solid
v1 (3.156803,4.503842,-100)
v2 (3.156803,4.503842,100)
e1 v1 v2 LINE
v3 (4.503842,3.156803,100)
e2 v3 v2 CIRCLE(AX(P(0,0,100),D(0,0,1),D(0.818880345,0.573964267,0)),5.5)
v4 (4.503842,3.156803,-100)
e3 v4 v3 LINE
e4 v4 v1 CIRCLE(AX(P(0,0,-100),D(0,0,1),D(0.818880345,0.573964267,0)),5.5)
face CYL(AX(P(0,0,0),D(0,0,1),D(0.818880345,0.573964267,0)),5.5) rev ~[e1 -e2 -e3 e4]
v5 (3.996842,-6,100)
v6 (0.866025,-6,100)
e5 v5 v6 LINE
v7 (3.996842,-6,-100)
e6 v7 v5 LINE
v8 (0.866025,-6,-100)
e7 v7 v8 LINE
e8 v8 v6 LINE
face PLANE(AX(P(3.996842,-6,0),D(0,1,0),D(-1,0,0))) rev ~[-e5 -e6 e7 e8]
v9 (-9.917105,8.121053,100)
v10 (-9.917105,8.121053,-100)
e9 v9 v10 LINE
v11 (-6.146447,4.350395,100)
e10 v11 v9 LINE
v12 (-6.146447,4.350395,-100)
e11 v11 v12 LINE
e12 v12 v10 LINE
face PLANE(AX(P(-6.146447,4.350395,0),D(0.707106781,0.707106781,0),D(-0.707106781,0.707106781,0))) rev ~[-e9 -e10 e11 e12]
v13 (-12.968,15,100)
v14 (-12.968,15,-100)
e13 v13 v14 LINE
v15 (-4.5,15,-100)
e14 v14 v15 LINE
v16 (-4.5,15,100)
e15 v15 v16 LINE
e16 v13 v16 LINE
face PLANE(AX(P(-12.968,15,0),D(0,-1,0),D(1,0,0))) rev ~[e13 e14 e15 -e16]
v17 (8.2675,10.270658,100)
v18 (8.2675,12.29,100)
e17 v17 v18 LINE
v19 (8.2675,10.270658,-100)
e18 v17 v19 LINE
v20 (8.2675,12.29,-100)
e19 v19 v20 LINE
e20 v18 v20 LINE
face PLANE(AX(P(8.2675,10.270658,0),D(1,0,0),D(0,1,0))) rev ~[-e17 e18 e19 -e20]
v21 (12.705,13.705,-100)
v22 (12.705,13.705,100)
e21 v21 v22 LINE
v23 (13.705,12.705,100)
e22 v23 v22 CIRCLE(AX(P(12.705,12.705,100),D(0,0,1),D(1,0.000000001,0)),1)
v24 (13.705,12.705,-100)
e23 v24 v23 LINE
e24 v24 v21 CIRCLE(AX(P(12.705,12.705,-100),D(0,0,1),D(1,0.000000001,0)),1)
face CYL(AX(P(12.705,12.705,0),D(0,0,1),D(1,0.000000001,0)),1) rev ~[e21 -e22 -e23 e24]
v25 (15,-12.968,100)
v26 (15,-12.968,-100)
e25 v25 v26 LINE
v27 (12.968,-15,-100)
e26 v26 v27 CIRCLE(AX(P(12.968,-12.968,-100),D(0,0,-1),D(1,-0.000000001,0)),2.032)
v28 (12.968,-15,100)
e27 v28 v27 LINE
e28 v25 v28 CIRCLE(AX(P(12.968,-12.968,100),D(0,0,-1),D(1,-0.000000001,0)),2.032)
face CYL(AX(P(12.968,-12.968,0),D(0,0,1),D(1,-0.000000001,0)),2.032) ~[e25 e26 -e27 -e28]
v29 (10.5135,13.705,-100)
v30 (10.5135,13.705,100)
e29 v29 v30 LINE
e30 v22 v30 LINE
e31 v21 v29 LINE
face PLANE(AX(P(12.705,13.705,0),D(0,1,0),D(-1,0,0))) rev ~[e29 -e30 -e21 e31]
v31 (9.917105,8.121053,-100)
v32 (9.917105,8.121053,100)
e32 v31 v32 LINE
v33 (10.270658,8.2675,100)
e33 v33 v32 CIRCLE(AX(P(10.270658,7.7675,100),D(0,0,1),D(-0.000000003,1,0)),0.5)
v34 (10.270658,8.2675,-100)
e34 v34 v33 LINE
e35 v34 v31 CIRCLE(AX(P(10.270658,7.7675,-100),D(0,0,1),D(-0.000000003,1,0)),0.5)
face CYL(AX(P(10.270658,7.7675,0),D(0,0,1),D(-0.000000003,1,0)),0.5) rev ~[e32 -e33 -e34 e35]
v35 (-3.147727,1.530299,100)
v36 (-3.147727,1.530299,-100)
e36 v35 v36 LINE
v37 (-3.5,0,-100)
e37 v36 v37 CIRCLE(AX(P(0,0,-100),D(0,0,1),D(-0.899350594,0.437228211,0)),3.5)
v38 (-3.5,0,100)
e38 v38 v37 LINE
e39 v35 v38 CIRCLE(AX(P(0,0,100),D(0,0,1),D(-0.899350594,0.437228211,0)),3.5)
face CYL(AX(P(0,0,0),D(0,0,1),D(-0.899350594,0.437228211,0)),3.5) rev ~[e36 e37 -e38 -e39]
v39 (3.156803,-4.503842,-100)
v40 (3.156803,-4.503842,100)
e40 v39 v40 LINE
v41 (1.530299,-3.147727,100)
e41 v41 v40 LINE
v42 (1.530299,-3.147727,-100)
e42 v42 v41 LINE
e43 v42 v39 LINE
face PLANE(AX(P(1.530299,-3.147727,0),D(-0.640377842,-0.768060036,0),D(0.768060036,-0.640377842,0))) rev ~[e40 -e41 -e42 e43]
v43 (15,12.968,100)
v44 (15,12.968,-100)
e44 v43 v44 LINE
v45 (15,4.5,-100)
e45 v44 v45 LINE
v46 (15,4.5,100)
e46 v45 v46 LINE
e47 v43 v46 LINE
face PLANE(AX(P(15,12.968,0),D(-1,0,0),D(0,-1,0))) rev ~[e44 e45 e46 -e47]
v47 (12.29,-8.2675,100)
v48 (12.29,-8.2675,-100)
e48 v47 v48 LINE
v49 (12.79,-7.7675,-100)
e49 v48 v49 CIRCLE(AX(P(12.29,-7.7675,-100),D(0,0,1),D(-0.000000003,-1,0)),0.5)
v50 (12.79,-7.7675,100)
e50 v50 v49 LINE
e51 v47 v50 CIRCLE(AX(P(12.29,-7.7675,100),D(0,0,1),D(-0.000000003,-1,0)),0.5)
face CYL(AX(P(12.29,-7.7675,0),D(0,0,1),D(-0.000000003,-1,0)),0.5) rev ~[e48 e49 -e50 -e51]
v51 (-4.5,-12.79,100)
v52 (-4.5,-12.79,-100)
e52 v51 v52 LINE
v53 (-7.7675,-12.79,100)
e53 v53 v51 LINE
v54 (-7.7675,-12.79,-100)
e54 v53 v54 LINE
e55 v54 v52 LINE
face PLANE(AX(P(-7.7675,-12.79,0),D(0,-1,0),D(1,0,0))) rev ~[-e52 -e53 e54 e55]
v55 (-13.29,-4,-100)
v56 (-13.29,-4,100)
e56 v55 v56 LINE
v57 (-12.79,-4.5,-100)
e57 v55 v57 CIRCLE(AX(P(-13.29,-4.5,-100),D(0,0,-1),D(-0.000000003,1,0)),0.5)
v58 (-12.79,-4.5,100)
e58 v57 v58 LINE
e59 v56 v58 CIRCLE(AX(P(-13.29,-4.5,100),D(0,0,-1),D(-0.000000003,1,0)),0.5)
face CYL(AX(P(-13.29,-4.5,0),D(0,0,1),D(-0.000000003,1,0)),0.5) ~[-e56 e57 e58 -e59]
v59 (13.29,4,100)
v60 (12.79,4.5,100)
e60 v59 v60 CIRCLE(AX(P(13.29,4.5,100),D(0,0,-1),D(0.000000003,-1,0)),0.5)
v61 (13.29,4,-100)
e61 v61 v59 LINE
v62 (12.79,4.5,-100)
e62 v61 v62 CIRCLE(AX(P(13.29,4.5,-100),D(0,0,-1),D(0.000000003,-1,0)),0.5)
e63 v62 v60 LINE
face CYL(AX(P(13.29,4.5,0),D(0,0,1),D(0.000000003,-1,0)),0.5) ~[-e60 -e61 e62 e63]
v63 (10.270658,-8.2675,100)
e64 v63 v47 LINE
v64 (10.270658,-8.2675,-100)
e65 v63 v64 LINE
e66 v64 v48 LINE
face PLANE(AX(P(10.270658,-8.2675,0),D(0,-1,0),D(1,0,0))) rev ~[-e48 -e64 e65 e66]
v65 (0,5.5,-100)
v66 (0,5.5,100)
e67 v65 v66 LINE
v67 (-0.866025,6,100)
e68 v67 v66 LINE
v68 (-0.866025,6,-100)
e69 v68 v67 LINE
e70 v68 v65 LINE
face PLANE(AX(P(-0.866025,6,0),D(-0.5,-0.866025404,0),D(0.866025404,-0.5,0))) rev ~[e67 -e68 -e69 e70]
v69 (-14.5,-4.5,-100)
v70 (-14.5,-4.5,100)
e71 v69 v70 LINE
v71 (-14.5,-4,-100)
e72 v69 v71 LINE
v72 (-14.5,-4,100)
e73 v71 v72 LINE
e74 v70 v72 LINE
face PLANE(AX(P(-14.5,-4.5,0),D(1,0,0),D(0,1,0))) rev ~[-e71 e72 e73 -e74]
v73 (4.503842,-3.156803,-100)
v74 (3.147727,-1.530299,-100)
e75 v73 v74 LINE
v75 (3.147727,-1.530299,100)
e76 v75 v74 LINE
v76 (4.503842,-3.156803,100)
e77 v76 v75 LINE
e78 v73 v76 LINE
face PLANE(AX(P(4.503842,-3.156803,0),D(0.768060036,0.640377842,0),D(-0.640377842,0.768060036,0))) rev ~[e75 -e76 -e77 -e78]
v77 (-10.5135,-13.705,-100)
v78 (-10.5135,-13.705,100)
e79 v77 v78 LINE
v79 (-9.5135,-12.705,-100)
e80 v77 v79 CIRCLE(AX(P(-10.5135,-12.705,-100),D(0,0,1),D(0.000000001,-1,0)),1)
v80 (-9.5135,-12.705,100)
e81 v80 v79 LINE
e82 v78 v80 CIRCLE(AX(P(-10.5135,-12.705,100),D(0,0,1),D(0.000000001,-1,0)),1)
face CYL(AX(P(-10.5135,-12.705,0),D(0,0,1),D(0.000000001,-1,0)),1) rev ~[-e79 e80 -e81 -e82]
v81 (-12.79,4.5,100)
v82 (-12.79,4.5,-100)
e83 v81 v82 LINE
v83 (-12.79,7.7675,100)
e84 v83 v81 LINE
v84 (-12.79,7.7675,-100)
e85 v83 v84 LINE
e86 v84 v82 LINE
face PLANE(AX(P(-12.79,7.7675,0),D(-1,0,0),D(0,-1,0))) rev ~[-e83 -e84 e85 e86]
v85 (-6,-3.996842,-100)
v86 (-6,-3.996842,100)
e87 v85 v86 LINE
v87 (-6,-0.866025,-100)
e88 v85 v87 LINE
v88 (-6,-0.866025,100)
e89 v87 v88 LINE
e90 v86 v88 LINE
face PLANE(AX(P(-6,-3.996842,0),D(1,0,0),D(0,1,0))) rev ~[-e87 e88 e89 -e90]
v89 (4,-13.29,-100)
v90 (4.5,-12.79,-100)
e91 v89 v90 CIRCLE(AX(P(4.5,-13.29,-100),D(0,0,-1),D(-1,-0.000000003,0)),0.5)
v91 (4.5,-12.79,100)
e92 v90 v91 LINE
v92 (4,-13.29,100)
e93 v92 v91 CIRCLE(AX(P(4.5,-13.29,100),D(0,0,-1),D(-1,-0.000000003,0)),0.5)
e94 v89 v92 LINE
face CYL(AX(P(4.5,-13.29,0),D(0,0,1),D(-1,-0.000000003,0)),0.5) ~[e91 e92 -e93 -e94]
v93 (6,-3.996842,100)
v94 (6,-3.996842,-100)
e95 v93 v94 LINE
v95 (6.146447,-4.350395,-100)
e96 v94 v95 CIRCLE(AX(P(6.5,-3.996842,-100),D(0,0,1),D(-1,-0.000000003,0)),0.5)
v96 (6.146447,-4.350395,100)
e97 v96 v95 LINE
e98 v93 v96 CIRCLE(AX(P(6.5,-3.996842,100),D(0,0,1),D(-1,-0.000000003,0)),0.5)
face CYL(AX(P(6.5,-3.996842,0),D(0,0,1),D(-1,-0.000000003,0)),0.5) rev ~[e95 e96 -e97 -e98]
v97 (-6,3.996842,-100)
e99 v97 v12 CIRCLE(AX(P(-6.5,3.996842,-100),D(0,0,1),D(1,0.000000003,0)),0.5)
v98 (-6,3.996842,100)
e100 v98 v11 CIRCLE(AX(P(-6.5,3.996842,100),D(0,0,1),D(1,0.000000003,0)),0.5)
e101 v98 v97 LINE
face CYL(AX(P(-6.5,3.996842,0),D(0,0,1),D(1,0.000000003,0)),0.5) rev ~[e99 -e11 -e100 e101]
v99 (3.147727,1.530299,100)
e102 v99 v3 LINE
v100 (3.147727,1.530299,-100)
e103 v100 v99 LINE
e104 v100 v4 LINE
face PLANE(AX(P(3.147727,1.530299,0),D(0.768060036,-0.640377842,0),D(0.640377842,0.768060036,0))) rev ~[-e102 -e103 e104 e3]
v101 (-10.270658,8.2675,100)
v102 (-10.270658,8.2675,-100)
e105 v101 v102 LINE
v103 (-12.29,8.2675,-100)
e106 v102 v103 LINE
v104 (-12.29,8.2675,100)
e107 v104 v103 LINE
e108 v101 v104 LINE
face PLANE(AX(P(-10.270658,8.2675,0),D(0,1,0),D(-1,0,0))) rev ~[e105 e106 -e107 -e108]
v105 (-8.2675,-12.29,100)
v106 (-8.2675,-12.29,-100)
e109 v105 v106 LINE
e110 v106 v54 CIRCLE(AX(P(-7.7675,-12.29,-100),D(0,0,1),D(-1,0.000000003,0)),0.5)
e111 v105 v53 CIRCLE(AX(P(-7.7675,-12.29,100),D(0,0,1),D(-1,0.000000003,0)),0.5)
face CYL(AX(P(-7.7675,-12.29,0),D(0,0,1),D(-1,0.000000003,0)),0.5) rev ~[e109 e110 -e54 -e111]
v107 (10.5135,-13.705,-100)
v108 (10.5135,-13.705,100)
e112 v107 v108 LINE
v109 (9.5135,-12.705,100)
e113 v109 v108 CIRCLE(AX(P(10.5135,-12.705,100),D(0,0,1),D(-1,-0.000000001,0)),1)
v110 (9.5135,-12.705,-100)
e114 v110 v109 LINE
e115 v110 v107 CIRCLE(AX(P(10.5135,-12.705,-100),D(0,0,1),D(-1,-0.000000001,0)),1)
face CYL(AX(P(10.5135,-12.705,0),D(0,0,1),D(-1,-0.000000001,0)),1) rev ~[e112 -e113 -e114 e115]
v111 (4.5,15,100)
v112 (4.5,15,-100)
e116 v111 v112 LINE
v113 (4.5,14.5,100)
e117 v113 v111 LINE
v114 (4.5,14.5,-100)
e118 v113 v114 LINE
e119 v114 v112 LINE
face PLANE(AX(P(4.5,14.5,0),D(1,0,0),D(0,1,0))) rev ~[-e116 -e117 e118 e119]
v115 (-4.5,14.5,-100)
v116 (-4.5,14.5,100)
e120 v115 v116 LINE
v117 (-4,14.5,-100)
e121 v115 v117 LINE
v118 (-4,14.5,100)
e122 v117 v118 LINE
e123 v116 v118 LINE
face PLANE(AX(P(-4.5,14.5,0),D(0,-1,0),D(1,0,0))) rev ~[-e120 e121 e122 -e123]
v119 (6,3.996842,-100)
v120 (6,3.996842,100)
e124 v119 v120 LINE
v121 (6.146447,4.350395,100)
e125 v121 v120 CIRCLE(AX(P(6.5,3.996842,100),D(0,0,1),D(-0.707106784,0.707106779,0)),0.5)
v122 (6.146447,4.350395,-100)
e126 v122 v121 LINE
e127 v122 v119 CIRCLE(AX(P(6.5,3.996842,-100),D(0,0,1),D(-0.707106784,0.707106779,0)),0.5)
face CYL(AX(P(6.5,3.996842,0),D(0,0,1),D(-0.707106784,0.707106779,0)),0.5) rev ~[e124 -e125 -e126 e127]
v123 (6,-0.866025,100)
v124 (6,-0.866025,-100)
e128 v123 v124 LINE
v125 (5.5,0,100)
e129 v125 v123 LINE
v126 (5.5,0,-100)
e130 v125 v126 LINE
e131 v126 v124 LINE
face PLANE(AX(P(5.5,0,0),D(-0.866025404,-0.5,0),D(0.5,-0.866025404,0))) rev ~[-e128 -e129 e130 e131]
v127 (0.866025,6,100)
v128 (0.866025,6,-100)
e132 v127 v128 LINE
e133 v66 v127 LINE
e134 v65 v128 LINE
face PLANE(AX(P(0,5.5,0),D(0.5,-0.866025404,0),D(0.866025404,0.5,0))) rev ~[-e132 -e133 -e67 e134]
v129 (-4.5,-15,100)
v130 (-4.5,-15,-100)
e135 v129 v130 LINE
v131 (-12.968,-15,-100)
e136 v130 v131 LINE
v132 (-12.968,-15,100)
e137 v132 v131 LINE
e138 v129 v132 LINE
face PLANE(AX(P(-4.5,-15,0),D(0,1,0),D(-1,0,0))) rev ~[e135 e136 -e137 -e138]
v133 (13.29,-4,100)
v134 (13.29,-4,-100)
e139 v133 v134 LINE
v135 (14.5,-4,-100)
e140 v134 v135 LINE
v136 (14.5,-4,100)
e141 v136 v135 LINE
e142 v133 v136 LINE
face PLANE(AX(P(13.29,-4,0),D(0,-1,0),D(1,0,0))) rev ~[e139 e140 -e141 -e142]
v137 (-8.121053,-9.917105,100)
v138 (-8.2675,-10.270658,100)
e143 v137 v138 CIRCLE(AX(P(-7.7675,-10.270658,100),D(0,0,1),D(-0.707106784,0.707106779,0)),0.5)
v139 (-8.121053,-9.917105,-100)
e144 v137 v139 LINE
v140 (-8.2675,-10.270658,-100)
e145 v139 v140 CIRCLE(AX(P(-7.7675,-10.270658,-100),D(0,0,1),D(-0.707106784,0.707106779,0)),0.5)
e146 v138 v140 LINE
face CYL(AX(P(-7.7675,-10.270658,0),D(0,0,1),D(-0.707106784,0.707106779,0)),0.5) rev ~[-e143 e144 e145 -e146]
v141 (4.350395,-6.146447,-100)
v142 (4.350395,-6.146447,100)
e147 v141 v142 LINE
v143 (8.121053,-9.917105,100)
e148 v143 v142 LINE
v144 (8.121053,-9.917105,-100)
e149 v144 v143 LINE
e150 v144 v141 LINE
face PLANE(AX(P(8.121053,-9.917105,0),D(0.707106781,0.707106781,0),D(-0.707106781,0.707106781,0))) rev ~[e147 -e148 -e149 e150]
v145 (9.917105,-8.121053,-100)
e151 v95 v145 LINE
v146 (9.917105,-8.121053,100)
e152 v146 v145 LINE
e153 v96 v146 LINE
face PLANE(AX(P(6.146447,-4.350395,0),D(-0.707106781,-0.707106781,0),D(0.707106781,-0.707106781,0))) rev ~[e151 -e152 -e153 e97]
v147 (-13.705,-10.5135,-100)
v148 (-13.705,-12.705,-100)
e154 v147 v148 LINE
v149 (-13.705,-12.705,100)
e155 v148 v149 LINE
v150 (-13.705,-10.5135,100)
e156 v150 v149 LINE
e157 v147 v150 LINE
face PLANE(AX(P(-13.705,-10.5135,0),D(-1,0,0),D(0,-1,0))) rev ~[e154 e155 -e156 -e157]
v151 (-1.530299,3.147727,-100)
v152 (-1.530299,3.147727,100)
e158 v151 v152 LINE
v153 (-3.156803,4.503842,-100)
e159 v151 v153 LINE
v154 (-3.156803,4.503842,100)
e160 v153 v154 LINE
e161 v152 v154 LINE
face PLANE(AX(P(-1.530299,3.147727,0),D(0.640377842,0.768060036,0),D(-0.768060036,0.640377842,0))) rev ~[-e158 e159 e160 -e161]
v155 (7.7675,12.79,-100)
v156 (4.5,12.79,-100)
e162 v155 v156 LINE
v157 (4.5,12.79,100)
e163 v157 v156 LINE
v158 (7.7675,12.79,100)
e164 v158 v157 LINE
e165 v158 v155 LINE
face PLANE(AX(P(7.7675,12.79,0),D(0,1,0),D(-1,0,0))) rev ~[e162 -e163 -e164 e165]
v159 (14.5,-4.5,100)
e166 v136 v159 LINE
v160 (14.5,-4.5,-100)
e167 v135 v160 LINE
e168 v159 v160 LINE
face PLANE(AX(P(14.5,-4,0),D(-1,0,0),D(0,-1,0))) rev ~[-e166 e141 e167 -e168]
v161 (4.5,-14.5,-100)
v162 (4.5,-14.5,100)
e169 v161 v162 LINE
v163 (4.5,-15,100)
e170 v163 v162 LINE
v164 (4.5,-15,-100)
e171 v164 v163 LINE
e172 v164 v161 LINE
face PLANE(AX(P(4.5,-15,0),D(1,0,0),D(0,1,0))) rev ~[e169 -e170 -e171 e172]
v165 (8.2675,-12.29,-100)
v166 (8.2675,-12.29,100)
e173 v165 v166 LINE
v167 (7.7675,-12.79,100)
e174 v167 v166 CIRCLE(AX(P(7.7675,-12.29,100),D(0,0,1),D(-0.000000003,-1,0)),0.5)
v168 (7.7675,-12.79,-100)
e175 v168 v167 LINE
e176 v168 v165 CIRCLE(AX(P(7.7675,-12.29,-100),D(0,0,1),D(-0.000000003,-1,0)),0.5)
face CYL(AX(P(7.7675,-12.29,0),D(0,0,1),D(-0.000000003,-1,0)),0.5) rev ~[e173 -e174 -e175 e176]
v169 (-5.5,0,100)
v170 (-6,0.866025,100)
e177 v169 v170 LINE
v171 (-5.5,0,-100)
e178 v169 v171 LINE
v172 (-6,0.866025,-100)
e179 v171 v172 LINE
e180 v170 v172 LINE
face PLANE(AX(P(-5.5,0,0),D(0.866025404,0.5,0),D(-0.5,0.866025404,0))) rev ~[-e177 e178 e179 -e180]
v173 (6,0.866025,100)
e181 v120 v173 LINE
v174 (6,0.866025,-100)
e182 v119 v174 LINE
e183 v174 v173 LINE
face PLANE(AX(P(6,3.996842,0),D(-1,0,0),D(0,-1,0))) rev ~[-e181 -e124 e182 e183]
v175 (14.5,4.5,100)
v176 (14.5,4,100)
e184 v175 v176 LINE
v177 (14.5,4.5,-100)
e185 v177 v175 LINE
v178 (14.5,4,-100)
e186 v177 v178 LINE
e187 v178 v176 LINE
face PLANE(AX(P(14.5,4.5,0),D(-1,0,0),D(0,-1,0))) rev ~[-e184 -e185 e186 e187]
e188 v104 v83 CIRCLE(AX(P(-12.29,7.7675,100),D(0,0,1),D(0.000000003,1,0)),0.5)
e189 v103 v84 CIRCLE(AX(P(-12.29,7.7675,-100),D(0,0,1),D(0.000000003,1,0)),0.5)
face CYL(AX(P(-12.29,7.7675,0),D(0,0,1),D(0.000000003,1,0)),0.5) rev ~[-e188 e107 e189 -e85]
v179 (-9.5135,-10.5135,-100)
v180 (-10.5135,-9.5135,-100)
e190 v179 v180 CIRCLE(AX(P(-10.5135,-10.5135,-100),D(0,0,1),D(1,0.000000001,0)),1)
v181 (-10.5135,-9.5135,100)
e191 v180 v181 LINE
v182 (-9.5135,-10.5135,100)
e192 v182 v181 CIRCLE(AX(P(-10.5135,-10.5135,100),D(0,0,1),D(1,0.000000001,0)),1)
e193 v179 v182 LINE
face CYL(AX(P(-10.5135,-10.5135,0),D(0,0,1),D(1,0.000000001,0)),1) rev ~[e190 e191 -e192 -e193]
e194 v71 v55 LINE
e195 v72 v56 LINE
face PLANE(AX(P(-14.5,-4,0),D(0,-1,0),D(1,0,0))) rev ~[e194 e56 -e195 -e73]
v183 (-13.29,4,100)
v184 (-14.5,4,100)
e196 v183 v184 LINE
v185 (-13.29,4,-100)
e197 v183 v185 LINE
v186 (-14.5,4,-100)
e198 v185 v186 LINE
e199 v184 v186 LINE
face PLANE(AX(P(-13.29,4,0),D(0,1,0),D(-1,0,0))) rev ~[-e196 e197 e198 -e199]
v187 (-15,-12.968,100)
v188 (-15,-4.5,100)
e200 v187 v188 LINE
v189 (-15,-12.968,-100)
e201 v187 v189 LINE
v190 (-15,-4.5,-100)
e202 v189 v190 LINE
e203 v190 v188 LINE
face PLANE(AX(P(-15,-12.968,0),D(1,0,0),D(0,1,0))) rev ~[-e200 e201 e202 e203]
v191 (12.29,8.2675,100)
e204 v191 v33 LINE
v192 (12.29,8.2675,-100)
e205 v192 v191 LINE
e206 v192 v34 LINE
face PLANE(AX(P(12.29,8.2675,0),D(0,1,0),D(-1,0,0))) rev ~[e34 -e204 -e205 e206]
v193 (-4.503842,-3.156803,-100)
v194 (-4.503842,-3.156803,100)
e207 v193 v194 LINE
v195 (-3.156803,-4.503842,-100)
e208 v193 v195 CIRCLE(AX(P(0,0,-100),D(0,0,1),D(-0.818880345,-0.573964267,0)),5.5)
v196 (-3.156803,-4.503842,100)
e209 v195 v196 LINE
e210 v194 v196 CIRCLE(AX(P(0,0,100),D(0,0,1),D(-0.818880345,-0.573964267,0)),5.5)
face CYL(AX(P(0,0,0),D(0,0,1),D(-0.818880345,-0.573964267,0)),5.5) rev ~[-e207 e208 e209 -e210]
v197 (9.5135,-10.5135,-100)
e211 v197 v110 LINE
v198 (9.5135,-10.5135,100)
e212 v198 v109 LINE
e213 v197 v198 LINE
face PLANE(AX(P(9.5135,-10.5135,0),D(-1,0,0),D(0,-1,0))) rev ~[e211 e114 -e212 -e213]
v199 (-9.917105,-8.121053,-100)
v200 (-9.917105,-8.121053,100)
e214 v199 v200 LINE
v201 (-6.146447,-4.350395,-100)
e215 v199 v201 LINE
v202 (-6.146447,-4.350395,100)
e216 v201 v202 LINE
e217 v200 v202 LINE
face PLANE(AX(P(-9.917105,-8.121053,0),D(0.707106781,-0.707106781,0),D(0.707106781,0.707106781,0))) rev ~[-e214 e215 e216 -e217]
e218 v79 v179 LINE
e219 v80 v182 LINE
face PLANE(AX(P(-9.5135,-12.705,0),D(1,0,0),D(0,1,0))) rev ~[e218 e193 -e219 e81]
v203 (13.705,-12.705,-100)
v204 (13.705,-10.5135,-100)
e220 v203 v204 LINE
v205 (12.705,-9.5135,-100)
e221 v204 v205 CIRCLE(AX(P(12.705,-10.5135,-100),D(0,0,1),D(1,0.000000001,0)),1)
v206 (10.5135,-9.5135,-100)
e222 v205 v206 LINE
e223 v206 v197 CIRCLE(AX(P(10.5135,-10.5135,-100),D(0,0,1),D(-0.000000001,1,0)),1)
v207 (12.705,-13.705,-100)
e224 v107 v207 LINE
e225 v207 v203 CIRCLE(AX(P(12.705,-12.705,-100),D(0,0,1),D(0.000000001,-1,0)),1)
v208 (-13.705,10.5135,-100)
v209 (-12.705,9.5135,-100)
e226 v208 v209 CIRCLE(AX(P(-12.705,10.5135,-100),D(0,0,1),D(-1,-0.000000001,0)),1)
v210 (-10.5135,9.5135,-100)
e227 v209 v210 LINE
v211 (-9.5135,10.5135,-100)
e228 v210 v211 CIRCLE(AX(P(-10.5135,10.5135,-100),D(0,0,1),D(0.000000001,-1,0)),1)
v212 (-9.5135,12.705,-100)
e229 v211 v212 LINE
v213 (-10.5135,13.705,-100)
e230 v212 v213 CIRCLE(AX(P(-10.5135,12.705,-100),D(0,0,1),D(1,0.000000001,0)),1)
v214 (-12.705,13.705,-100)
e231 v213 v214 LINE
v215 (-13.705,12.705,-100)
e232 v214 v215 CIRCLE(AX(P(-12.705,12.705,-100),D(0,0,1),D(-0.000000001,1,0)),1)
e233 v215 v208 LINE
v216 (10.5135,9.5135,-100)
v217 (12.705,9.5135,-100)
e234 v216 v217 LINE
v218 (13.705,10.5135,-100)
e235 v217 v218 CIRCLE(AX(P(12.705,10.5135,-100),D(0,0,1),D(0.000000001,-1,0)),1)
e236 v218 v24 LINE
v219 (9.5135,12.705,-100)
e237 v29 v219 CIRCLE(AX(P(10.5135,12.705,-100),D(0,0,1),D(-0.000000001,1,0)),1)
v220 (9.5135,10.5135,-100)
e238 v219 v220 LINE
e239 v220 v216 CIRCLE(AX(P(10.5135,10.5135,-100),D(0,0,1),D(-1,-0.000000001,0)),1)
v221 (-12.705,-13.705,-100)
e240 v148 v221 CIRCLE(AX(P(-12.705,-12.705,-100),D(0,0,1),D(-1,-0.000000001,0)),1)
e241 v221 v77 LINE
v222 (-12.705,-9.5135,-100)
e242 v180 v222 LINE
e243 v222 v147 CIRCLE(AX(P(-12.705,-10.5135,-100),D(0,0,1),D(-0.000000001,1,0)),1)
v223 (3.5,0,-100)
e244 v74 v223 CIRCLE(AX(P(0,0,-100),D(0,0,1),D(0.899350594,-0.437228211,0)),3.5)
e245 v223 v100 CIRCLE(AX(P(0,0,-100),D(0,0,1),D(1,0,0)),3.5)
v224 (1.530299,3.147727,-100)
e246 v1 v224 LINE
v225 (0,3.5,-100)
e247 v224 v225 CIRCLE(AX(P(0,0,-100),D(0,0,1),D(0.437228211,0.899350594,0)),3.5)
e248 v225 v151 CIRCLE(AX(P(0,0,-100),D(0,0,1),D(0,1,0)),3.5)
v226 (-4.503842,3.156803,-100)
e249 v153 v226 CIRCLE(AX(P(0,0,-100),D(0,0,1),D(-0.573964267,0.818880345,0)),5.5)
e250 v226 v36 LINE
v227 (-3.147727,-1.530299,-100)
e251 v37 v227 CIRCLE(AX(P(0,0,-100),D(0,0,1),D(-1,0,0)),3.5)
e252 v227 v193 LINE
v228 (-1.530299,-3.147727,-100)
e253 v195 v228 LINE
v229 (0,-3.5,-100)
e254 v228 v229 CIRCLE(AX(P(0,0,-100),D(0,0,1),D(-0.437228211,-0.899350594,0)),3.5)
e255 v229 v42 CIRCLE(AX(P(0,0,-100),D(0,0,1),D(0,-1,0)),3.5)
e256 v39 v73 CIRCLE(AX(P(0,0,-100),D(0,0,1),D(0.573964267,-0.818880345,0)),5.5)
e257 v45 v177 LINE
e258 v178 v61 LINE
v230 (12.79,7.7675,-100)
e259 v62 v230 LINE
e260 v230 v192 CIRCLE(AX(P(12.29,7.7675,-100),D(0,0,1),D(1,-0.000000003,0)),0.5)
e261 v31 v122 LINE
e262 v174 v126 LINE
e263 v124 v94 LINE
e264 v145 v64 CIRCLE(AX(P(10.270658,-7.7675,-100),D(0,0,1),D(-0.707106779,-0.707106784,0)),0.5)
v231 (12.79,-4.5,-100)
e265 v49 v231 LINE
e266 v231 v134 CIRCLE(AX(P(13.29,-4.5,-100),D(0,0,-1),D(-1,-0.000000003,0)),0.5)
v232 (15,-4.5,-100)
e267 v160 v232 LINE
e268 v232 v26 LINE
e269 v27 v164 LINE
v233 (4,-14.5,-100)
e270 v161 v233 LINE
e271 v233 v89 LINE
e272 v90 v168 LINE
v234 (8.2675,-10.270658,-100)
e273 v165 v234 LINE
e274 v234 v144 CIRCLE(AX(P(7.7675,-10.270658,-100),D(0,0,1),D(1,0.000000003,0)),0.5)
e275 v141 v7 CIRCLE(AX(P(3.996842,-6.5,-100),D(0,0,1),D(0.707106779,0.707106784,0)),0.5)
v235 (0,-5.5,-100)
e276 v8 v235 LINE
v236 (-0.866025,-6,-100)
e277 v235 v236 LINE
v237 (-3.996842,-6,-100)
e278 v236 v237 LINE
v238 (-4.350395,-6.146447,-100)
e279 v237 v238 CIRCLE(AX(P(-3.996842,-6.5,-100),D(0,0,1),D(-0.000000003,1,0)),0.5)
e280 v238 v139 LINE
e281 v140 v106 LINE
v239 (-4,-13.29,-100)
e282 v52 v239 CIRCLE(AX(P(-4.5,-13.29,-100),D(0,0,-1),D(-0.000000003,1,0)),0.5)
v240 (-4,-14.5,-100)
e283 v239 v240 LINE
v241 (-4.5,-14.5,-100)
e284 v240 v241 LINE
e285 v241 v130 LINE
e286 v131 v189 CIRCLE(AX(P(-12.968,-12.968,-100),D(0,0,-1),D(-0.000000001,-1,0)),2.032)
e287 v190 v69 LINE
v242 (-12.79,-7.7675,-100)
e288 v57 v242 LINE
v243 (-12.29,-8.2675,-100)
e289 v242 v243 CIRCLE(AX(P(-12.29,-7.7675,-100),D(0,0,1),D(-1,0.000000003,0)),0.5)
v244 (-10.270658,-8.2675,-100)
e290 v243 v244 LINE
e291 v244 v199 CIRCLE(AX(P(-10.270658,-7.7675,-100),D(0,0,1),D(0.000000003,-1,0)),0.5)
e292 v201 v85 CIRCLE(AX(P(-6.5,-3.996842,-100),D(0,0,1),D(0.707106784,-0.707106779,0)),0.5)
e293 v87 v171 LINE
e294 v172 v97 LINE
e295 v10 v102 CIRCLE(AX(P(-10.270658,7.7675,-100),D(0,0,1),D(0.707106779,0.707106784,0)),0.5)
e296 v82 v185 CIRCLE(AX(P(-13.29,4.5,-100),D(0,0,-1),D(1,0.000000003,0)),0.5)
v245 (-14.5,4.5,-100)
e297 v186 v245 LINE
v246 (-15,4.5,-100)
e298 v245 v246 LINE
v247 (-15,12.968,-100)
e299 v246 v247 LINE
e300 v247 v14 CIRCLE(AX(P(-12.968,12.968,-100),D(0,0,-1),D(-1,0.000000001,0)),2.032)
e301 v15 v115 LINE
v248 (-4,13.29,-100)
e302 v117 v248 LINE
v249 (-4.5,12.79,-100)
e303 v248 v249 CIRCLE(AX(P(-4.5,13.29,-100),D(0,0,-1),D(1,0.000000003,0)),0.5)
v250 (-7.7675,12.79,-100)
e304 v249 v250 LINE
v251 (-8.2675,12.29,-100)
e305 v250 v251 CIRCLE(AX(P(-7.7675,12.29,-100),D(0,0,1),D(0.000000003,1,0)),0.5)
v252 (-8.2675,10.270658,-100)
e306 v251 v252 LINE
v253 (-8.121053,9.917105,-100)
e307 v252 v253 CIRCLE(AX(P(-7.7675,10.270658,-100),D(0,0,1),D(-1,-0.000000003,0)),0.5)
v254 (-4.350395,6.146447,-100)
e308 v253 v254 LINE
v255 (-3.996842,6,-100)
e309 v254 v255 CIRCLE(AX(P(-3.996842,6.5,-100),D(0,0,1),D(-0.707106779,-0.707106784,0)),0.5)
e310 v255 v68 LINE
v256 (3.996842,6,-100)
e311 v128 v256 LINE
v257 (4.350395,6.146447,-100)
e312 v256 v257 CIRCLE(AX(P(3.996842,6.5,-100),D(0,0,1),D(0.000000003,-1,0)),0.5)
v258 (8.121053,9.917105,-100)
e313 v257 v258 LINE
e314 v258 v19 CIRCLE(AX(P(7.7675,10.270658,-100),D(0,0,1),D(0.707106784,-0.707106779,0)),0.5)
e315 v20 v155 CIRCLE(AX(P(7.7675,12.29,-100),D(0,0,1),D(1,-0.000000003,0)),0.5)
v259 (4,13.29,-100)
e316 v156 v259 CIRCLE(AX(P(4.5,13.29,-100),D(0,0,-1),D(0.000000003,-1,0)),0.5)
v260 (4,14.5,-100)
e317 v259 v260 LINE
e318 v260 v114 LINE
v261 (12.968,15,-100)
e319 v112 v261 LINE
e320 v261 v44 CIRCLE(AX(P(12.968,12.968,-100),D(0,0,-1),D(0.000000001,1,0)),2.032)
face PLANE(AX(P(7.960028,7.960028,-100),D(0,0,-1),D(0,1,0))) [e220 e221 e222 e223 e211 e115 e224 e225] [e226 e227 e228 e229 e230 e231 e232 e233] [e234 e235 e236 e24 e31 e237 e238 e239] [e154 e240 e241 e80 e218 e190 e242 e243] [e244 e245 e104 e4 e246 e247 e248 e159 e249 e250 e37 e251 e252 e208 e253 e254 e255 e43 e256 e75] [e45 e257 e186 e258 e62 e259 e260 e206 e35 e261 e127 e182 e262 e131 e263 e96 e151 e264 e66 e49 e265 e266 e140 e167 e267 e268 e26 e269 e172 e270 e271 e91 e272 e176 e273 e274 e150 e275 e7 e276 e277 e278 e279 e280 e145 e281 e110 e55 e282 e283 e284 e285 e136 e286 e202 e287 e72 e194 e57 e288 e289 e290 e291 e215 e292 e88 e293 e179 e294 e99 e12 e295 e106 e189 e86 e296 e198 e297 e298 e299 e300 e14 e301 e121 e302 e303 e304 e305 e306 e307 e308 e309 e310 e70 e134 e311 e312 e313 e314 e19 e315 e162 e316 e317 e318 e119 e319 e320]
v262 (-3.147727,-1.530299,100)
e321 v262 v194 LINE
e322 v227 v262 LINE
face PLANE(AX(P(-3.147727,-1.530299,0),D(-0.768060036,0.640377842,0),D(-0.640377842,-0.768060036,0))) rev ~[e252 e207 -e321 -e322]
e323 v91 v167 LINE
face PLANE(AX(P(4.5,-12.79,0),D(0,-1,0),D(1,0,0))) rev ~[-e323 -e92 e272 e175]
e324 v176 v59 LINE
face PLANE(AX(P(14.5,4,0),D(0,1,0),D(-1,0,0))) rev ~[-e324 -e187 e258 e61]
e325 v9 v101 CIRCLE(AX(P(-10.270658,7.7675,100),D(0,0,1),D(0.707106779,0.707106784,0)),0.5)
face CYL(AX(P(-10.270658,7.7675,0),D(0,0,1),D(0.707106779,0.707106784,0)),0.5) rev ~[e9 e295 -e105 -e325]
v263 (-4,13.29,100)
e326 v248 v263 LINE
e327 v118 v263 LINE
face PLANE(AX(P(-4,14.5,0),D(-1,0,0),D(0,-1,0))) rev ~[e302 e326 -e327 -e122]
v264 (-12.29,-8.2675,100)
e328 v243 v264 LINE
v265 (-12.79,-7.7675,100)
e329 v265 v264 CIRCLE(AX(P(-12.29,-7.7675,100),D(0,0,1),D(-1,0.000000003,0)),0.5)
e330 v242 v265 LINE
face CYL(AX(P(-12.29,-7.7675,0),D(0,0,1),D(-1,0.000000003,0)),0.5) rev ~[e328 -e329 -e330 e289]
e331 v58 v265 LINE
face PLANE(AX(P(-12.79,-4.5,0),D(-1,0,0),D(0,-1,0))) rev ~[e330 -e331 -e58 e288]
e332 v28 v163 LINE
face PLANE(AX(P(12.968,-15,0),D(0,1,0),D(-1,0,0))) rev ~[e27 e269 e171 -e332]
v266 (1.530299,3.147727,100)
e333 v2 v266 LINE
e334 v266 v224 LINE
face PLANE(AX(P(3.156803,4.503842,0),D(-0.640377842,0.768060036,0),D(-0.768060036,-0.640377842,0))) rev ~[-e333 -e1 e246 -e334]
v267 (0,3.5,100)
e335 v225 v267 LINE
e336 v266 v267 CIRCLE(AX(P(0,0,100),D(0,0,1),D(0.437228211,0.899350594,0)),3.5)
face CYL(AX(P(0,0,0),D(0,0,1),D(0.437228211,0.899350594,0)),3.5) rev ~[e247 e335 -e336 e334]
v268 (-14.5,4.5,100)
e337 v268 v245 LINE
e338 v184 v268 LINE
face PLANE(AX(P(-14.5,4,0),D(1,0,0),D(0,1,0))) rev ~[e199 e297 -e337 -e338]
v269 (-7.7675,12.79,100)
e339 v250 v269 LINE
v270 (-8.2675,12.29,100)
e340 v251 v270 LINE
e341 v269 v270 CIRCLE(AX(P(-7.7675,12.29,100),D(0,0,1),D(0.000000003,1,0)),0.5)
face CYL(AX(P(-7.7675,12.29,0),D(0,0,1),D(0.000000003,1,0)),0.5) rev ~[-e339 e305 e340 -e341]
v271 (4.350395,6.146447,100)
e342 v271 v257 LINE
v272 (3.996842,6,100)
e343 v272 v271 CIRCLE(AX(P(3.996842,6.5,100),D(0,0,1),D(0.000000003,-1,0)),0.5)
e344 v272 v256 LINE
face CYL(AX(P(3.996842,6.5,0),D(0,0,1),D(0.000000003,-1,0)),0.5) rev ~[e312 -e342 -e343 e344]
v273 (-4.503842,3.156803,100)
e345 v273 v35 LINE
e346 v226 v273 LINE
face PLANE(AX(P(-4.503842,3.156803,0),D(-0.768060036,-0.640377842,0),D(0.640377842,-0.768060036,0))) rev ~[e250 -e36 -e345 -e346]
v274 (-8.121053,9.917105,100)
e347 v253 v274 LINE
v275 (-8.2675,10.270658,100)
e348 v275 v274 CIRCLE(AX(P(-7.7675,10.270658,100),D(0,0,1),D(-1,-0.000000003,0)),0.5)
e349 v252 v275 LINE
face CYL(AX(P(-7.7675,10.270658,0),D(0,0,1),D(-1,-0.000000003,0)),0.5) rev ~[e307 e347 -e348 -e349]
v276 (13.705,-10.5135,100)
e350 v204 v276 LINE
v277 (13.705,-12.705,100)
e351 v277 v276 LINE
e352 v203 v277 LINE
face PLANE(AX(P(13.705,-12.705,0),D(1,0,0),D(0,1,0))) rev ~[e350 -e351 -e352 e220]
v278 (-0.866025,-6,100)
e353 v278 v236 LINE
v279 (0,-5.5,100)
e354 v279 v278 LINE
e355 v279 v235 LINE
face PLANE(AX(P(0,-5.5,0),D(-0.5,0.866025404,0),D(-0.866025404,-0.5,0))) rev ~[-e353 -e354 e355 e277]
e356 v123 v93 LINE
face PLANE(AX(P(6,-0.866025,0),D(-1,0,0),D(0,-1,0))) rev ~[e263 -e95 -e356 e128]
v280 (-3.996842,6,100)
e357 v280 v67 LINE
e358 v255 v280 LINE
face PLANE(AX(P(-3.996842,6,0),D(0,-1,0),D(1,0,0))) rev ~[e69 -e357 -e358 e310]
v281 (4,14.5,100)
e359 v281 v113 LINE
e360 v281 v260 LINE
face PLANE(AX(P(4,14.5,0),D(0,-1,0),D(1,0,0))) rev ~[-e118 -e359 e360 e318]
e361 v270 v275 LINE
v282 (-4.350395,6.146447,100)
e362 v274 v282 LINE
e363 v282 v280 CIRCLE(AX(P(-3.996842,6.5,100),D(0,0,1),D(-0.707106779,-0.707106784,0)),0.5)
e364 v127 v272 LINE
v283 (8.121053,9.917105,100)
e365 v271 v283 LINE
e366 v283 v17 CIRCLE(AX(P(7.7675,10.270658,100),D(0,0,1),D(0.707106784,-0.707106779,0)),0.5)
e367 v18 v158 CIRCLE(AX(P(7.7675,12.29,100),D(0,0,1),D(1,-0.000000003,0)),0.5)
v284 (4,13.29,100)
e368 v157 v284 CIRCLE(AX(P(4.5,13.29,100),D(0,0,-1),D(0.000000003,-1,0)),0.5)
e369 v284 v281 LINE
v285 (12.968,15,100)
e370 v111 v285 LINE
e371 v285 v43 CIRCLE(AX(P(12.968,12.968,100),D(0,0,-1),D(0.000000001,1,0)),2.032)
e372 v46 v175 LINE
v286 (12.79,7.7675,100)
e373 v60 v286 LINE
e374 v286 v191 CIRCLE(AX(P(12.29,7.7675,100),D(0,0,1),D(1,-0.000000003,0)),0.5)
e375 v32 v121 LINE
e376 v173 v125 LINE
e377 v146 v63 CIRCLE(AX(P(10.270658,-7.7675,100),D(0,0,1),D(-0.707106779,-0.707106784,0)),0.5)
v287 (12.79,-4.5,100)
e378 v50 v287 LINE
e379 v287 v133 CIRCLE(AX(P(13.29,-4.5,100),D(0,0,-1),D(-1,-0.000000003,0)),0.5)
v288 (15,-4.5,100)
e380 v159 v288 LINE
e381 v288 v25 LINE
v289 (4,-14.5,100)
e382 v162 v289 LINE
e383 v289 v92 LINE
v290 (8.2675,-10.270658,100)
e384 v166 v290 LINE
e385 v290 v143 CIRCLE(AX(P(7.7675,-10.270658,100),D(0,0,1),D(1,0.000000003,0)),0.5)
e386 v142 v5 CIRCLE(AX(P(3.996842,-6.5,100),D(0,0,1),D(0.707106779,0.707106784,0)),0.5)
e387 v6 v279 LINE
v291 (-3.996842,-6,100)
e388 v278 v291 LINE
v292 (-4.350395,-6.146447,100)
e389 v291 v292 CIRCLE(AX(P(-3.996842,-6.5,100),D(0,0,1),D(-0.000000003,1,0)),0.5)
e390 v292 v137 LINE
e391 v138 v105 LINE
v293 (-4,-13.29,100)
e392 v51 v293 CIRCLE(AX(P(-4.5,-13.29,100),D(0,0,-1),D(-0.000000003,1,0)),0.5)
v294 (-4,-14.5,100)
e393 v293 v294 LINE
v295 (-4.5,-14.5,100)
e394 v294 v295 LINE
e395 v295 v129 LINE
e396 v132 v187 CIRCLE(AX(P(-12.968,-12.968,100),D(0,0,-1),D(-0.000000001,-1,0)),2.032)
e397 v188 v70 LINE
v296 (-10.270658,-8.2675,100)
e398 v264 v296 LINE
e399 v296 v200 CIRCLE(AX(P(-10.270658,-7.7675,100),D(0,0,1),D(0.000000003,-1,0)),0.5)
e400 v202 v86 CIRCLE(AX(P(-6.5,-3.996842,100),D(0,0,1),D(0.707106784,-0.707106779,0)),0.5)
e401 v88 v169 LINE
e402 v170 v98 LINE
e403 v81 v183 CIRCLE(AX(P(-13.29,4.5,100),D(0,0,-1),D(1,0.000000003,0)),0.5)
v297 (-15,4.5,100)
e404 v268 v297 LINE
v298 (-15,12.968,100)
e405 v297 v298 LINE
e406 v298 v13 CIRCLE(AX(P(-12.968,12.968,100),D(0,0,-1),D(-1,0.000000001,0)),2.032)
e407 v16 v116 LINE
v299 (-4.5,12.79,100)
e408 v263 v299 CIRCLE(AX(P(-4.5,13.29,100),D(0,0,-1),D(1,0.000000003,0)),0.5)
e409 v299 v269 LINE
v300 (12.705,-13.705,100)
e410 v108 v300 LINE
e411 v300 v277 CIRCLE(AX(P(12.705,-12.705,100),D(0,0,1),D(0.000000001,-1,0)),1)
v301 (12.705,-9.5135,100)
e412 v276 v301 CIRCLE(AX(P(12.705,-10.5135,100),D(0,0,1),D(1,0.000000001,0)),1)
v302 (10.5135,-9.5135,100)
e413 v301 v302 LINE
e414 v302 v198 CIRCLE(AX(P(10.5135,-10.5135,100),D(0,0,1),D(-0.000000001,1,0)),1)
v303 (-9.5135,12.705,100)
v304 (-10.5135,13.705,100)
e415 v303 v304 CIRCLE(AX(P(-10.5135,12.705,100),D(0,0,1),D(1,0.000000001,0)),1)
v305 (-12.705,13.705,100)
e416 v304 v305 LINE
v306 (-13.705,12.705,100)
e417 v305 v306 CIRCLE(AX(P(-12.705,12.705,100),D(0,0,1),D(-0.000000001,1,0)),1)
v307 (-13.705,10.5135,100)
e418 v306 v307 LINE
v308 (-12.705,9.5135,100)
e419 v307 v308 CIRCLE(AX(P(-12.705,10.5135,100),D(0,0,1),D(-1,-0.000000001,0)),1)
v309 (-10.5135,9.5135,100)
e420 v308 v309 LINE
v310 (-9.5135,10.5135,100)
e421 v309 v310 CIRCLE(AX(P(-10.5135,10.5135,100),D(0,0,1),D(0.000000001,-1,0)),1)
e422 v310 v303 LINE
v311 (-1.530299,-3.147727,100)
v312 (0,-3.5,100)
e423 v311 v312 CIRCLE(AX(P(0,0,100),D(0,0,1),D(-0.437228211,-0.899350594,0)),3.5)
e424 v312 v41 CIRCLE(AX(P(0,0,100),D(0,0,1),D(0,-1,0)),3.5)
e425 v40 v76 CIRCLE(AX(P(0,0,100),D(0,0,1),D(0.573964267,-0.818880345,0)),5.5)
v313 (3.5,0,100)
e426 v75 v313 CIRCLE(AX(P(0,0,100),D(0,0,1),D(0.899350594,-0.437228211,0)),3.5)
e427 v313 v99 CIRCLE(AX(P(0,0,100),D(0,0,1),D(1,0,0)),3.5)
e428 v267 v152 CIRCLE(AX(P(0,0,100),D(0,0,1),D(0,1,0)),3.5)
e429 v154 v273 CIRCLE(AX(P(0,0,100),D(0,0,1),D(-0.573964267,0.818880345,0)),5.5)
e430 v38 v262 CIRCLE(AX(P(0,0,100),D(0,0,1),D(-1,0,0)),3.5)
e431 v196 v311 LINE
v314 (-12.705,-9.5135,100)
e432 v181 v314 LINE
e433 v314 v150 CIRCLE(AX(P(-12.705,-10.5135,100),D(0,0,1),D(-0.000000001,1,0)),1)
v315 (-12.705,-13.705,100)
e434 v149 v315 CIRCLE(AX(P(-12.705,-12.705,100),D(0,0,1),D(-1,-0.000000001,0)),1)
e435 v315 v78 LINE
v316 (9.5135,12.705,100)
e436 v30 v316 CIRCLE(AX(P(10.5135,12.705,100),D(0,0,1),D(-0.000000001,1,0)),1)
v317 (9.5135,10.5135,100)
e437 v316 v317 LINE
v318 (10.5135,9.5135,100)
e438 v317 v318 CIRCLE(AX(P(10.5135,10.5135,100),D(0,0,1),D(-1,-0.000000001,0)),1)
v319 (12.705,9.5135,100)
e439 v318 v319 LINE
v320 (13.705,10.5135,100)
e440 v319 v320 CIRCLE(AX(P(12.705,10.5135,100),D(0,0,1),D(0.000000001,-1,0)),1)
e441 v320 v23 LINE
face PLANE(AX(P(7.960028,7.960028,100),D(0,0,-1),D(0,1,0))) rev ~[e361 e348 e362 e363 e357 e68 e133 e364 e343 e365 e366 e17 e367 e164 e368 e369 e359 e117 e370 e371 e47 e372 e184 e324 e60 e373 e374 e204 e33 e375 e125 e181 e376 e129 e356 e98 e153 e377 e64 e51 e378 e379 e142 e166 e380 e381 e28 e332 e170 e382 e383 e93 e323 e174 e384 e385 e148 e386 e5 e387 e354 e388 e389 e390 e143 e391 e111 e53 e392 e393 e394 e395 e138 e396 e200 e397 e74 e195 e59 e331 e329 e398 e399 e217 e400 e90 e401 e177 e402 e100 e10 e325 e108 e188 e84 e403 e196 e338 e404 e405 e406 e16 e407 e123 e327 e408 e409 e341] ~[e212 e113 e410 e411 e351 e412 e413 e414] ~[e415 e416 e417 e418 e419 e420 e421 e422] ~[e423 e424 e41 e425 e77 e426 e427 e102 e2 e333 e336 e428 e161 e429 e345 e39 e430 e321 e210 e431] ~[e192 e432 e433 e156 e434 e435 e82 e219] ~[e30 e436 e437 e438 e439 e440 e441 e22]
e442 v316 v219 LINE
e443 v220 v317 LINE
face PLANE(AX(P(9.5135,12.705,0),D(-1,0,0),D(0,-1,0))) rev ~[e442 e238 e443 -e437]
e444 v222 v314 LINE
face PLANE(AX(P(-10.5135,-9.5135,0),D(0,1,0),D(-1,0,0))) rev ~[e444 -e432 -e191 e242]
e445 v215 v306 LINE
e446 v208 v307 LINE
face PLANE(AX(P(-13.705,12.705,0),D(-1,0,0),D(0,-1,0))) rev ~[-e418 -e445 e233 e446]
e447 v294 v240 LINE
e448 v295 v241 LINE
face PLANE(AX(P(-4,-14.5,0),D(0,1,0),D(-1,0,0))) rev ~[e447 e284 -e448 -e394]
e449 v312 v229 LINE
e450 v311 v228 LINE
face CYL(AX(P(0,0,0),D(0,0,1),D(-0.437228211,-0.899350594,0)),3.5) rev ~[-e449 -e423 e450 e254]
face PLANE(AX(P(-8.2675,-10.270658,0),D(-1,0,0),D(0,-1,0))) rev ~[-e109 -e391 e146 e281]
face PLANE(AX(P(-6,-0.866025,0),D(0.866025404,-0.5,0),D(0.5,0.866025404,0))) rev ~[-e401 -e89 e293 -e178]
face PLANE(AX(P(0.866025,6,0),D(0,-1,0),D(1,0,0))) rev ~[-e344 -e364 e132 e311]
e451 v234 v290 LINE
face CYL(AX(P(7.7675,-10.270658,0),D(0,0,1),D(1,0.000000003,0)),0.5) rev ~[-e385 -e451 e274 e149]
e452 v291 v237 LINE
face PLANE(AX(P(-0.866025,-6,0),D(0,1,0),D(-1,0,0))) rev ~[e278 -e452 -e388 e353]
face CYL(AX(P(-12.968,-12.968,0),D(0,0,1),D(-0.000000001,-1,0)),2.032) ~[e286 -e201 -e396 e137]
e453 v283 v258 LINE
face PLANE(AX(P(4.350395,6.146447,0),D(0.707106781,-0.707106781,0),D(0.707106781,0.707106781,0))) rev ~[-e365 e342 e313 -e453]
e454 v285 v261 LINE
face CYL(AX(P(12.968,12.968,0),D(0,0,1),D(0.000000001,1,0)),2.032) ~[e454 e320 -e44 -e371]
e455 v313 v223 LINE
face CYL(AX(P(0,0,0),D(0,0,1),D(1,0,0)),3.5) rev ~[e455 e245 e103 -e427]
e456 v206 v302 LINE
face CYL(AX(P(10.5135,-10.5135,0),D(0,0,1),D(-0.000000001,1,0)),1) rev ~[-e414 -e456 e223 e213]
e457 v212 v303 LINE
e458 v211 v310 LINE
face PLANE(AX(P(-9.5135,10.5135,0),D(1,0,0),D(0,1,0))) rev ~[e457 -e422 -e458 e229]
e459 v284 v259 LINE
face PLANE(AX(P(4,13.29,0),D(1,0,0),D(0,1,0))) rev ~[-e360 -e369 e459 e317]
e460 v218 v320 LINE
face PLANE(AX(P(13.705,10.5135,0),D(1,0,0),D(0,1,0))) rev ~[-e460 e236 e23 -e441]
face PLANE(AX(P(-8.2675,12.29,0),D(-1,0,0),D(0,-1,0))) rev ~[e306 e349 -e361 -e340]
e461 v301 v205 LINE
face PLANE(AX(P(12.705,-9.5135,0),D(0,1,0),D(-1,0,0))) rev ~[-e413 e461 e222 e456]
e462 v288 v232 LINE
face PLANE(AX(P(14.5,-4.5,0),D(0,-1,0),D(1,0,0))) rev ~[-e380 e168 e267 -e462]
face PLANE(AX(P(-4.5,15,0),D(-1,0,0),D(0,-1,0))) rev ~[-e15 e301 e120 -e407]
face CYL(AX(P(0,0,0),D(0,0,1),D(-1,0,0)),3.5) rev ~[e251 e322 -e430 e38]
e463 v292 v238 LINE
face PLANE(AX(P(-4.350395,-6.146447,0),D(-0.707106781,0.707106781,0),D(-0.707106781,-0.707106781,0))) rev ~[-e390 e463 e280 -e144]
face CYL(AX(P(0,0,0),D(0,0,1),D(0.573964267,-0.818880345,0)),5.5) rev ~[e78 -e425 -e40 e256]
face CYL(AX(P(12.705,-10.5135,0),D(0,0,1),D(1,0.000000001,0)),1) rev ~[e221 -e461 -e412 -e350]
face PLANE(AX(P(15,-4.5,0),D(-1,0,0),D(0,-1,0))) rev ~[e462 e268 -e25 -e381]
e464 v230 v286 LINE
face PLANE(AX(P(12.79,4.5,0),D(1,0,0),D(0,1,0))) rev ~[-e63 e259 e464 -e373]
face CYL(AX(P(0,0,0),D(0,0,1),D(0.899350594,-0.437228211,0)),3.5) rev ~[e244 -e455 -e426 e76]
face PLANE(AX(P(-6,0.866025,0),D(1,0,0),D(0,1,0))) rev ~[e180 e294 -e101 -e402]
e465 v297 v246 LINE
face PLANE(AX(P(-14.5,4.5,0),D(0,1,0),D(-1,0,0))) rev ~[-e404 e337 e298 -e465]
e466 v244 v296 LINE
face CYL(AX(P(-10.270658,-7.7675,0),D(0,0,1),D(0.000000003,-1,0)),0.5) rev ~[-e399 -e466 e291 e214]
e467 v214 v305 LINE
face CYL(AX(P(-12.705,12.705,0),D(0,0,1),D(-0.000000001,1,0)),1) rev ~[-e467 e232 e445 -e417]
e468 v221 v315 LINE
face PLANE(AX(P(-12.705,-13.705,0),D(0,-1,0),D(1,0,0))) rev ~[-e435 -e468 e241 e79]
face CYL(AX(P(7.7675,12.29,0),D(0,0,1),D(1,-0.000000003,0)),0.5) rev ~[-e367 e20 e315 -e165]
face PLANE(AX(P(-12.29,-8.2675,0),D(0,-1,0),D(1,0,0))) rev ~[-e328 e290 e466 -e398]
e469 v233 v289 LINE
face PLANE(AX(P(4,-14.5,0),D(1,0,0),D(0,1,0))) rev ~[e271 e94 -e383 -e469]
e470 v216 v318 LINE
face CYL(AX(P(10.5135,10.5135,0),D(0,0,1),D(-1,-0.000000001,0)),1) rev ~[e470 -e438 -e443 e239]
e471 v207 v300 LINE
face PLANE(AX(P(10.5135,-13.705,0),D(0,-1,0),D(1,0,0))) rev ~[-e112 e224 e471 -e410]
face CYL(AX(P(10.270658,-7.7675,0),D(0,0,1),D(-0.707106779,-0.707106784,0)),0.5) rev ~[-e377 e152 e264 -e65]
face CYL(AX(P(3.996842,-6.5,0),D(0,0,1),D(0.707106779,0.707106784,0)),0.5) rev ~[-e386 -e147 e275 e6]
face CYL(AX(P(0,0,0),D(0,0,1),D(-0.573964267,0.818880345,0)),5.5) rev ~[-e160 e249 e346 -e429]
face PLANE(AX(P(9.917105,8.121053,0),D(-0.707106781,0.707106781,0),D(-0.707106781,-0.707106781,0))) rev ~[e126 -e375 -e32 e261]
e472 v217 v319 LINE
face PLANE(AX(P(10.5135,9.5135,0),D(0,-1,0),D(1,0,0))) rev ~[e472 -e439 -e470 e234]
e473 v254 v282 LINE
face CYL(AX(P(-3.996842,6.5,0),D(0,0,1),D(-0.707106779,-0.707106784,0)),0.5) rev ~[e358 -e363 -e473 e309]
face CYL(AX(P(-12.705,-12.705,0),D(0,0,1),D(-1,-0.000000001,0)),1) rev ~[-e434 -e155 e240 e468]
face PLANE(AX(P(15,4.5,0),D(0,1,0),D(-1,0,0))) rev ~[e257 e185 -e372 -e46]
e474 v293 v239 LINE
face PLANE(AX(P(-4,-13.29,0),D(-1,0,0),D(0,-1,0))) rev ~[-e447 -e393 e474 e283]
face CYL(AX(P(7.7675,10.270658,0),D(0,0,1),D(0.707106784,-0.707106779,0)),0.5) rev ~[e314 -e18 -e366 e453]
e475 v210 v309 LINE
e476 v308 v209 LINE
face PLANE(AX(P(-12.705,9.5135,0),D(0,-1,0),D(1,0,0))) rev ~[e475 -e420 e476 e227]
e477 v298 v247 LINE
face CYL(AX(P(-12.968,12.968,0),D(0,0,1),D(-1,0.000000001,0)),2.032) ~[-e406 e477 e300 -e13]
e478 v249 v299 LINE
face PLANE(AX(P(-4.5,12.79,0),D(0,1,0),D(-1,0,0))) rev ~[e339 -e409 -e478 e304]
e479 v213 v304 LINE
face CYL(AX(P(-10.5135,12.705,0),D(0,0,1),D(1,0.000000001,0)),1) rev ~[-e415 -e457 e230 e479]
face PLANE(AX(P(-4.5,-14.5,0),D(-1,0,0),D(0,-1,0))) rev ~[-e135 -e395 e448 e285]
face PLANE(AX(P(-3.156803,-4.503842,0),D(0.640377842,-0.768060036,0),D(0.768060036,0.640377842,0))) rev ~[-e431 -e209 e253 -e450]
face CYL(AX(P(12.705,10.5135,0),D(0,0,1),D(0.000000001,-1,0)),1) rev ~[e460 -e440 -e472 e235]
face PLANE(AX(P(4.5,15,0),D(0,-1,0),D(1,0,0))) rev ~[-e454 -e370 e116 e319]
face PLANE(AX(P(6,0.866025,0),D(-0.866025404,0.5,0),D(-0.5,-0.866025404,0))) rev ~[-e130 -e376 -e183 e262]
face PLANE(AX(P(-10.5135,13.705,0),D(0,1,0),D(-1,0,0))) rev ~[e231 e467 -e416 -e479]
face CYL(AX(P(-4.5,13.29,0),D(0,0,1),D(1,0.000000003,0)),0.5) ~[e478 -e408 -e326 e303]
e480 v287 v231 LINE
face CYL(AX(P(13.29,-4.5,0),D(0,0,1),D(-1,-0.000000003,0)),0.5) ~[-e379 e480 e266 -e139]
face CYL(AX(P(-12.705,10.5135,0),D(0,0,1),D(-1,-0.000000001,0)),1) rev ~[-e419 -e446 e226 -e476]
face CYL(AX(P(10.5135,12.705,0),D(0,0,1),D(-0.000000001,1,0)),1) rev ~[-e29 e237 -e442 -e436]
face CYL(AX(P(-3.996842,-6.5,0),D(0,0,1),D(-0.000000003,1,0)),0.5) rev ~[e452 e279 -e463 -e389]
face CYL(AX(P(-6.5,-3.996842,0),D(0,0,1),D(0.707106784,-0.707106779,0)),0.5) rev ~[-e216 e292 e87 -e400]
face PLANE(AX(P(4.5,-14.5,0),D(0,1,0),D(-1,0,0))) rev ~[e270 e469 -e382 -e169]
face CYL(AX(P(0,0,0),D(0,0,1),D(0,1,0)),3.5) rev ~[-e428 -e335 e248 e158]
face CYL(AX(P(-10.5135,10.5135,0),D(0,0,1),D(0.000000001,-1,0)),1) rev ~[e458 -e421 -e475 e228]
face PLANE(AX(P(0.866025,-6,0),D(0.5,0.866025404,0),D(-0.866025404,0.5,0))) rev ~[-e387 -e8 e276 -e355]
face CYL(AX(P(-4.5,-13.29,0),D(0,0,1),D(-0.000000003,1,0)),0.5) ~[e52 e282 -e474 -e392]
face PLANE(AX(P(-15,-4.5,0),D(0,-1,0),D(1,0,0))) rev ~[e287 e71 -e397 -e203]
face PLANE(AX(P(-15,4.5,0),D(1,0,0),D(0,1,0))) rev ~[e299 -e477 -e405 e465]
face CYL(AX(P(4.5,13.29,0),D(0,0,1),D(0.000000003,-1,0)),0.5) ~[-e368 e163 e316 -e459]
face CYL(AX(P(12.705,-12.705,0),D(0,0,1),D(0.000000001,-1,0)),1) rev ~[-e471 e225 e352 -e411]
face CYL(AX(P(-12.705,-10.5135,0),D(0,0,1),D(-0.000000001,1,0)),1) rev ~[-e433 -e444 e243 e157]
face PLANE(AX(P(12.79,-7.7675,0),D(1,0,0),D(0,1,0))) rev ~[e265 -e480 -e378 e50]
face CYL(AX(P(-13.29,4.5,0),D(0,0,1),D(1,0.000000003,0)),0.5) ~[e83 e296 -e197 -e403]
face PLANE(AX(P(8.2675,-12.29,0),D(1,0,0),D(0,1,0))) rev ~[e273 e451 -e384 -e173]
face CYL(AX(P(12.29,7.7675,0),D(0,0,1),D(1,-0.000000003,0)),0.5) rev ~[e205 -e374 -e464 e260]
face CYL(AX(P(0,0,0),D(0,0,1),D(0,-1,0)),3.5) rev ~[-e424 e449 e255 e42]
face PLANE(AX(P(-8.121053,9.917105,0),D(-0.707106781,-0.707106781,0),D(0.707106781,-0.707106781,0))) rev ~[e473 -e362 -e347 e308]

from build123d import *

# Parameters (mm, degrees)
BOSS_EXTRUDE1_DEPTH = 100
CIRPATTERN1_COUNT   = 4


with BuildPart() as part:
    # Sketch3 → Boss-Extrude1 (new, symmetric)
    with BuildSketch(Plane.XY):
        with BuildLine():
            Line((-4.503841895, 3.156803476), (-3.14772708, 1.530298739))
            ThreePointArc((-3.14772708, 1.530298739), (-3.410794979, 0.785160882), (-3.5, 0))
            Line((-3.5, 0), (-5.5, 0))
            Line((-5.5, 0), (-6, 0.866025404))
            Line((-6, 0.866025404), (-6, 3.996841995))
            ThreePointArc((-6, 3.996841995), (-6.038060234, 4.188183711), (-6.146446609, 4.350395385))
            Line((-6.146446609, 4.350395385), (-9.917104615, 8.121053391))
            ThreePointArc((-9.917104615, 8.121053391), (-10.079316289, 8.229439766), (-10.270658005, 8.2675))
            Line((-10.270658005, 8.2675), (-12.29, 8.2675))
            ThreePointArc((-12.29, 8.2675), (-12.643553391, 8.121053391), (-12.79, 7.7675))
            Line((-12.79, 7.7675), (-12.79, 4.5))
            ThreePointArc((-12.79, 4.5), (-12.936446609, 4.146446609), (-13.29, 4))
            Line((-13.29, 4), (-14.5, 4))
            Line((-14.5, 4), (-14.5, 4.5))
            Line((-14.5, 4.5), (-15, 4.5))
            Line((-15, 4.5), (-15, 12.968))
            ThreePointArc((-15, 12.968), (-14.404840979, 14.404840979), (-12.968, 15))
            Line((-12.968, 15), (-4.5, 15))
            Line((-4.5, 15), (-4.5, 14.5))
            Line((-4.5, 14.5), (-4, 14.5))
            Line((-4, 14.5), (-4, 13.29))
            ThreePointArc((-4, 13.29), (-4.146446609, 12.936446609), (-4.5, 12.79))
            Line((-4.5, 12.79), (-7.7675, 12.79))
            ThreePointArc((-7.7675, 12.79), (-8.121053391, 12.643553391), (-8.2675, 12.29))
            Line((-8.2675, 12.29), (-8.2675, 10.270658005))
            ThreePointArc((-8.2675, 10.270658005), (-8.229439766, 10.079316289), (-8.121053391, 9.917104615))
            Line((-8.121053391, 9.917104615), (-4.350395385, 6.146446609))
            ThreePointArc((-4.350395385, 6.146446609), (-4.188183711, 6.038060234), (-3.996841995, 6))
            Line((-3.996841995, 6), (-0.866025404, 6))
            Line((-0.866025404, 6), (0, 5.5))
            Line((0, 5.5), (0, 3.5))
            ThreePointArc((0, 3.5), (-0.785160882, 3.410794979), (-1.530298739, 3.14772708))
            Line((-1.530298739, 3.14772708), (-3.156803476, 4.503841895))
            ThreePointArc((-3.156803476, 4.503841895), (-3.889087297, 3.889087297), (-4.503841895, 3.156803476))
        make_face()
        with BuildLine():
            Line((-12.705, 9.5135), (-10.5135, 9.5135))
            ThreePointArc((-10.5135, 9.5135), (-9.806393219, 9.806393219), (-9.5135, 10.5135))
            Line((-9.5135, 10.5135), (-9.5135, 12.705))
            ThreePointArc((-9.5135, 12.705), (-9.806393219, 13.412106781), (-10.5135, 13.705))
            Line((-10.5135, 13.705), (-12.705, 13.705))
            ThreePointArc((-12.705, 13.705), (-13.412106781, 13.412106781), (-13.705, 12.705))
            Line((-13.705, 12.705), (-13.705, 10.5135))
            ThreePointArc((-13.705, 10.5135), (-13.412106781, 9.806393219), (-12.705, 9.5135))
        make_face(mode=Mode.SUBTRACT)
    boss_extrude1 = extrude(amount=BOSS_EXTRUDE1_DEPTH, both=True)

    # CirPattern1: Boss-Extrude1 ×4 about axis
    cirpattern1_axis = Axis((0, 0, 0), (0, 0, 1))
    for i in range(1, CIRPATTERN1_COUNT):
        add(boss_extrude1.rotate(cirpattern1_axis, i * 360 / CIRPATTERN1_COUNT))


solid = part.part
